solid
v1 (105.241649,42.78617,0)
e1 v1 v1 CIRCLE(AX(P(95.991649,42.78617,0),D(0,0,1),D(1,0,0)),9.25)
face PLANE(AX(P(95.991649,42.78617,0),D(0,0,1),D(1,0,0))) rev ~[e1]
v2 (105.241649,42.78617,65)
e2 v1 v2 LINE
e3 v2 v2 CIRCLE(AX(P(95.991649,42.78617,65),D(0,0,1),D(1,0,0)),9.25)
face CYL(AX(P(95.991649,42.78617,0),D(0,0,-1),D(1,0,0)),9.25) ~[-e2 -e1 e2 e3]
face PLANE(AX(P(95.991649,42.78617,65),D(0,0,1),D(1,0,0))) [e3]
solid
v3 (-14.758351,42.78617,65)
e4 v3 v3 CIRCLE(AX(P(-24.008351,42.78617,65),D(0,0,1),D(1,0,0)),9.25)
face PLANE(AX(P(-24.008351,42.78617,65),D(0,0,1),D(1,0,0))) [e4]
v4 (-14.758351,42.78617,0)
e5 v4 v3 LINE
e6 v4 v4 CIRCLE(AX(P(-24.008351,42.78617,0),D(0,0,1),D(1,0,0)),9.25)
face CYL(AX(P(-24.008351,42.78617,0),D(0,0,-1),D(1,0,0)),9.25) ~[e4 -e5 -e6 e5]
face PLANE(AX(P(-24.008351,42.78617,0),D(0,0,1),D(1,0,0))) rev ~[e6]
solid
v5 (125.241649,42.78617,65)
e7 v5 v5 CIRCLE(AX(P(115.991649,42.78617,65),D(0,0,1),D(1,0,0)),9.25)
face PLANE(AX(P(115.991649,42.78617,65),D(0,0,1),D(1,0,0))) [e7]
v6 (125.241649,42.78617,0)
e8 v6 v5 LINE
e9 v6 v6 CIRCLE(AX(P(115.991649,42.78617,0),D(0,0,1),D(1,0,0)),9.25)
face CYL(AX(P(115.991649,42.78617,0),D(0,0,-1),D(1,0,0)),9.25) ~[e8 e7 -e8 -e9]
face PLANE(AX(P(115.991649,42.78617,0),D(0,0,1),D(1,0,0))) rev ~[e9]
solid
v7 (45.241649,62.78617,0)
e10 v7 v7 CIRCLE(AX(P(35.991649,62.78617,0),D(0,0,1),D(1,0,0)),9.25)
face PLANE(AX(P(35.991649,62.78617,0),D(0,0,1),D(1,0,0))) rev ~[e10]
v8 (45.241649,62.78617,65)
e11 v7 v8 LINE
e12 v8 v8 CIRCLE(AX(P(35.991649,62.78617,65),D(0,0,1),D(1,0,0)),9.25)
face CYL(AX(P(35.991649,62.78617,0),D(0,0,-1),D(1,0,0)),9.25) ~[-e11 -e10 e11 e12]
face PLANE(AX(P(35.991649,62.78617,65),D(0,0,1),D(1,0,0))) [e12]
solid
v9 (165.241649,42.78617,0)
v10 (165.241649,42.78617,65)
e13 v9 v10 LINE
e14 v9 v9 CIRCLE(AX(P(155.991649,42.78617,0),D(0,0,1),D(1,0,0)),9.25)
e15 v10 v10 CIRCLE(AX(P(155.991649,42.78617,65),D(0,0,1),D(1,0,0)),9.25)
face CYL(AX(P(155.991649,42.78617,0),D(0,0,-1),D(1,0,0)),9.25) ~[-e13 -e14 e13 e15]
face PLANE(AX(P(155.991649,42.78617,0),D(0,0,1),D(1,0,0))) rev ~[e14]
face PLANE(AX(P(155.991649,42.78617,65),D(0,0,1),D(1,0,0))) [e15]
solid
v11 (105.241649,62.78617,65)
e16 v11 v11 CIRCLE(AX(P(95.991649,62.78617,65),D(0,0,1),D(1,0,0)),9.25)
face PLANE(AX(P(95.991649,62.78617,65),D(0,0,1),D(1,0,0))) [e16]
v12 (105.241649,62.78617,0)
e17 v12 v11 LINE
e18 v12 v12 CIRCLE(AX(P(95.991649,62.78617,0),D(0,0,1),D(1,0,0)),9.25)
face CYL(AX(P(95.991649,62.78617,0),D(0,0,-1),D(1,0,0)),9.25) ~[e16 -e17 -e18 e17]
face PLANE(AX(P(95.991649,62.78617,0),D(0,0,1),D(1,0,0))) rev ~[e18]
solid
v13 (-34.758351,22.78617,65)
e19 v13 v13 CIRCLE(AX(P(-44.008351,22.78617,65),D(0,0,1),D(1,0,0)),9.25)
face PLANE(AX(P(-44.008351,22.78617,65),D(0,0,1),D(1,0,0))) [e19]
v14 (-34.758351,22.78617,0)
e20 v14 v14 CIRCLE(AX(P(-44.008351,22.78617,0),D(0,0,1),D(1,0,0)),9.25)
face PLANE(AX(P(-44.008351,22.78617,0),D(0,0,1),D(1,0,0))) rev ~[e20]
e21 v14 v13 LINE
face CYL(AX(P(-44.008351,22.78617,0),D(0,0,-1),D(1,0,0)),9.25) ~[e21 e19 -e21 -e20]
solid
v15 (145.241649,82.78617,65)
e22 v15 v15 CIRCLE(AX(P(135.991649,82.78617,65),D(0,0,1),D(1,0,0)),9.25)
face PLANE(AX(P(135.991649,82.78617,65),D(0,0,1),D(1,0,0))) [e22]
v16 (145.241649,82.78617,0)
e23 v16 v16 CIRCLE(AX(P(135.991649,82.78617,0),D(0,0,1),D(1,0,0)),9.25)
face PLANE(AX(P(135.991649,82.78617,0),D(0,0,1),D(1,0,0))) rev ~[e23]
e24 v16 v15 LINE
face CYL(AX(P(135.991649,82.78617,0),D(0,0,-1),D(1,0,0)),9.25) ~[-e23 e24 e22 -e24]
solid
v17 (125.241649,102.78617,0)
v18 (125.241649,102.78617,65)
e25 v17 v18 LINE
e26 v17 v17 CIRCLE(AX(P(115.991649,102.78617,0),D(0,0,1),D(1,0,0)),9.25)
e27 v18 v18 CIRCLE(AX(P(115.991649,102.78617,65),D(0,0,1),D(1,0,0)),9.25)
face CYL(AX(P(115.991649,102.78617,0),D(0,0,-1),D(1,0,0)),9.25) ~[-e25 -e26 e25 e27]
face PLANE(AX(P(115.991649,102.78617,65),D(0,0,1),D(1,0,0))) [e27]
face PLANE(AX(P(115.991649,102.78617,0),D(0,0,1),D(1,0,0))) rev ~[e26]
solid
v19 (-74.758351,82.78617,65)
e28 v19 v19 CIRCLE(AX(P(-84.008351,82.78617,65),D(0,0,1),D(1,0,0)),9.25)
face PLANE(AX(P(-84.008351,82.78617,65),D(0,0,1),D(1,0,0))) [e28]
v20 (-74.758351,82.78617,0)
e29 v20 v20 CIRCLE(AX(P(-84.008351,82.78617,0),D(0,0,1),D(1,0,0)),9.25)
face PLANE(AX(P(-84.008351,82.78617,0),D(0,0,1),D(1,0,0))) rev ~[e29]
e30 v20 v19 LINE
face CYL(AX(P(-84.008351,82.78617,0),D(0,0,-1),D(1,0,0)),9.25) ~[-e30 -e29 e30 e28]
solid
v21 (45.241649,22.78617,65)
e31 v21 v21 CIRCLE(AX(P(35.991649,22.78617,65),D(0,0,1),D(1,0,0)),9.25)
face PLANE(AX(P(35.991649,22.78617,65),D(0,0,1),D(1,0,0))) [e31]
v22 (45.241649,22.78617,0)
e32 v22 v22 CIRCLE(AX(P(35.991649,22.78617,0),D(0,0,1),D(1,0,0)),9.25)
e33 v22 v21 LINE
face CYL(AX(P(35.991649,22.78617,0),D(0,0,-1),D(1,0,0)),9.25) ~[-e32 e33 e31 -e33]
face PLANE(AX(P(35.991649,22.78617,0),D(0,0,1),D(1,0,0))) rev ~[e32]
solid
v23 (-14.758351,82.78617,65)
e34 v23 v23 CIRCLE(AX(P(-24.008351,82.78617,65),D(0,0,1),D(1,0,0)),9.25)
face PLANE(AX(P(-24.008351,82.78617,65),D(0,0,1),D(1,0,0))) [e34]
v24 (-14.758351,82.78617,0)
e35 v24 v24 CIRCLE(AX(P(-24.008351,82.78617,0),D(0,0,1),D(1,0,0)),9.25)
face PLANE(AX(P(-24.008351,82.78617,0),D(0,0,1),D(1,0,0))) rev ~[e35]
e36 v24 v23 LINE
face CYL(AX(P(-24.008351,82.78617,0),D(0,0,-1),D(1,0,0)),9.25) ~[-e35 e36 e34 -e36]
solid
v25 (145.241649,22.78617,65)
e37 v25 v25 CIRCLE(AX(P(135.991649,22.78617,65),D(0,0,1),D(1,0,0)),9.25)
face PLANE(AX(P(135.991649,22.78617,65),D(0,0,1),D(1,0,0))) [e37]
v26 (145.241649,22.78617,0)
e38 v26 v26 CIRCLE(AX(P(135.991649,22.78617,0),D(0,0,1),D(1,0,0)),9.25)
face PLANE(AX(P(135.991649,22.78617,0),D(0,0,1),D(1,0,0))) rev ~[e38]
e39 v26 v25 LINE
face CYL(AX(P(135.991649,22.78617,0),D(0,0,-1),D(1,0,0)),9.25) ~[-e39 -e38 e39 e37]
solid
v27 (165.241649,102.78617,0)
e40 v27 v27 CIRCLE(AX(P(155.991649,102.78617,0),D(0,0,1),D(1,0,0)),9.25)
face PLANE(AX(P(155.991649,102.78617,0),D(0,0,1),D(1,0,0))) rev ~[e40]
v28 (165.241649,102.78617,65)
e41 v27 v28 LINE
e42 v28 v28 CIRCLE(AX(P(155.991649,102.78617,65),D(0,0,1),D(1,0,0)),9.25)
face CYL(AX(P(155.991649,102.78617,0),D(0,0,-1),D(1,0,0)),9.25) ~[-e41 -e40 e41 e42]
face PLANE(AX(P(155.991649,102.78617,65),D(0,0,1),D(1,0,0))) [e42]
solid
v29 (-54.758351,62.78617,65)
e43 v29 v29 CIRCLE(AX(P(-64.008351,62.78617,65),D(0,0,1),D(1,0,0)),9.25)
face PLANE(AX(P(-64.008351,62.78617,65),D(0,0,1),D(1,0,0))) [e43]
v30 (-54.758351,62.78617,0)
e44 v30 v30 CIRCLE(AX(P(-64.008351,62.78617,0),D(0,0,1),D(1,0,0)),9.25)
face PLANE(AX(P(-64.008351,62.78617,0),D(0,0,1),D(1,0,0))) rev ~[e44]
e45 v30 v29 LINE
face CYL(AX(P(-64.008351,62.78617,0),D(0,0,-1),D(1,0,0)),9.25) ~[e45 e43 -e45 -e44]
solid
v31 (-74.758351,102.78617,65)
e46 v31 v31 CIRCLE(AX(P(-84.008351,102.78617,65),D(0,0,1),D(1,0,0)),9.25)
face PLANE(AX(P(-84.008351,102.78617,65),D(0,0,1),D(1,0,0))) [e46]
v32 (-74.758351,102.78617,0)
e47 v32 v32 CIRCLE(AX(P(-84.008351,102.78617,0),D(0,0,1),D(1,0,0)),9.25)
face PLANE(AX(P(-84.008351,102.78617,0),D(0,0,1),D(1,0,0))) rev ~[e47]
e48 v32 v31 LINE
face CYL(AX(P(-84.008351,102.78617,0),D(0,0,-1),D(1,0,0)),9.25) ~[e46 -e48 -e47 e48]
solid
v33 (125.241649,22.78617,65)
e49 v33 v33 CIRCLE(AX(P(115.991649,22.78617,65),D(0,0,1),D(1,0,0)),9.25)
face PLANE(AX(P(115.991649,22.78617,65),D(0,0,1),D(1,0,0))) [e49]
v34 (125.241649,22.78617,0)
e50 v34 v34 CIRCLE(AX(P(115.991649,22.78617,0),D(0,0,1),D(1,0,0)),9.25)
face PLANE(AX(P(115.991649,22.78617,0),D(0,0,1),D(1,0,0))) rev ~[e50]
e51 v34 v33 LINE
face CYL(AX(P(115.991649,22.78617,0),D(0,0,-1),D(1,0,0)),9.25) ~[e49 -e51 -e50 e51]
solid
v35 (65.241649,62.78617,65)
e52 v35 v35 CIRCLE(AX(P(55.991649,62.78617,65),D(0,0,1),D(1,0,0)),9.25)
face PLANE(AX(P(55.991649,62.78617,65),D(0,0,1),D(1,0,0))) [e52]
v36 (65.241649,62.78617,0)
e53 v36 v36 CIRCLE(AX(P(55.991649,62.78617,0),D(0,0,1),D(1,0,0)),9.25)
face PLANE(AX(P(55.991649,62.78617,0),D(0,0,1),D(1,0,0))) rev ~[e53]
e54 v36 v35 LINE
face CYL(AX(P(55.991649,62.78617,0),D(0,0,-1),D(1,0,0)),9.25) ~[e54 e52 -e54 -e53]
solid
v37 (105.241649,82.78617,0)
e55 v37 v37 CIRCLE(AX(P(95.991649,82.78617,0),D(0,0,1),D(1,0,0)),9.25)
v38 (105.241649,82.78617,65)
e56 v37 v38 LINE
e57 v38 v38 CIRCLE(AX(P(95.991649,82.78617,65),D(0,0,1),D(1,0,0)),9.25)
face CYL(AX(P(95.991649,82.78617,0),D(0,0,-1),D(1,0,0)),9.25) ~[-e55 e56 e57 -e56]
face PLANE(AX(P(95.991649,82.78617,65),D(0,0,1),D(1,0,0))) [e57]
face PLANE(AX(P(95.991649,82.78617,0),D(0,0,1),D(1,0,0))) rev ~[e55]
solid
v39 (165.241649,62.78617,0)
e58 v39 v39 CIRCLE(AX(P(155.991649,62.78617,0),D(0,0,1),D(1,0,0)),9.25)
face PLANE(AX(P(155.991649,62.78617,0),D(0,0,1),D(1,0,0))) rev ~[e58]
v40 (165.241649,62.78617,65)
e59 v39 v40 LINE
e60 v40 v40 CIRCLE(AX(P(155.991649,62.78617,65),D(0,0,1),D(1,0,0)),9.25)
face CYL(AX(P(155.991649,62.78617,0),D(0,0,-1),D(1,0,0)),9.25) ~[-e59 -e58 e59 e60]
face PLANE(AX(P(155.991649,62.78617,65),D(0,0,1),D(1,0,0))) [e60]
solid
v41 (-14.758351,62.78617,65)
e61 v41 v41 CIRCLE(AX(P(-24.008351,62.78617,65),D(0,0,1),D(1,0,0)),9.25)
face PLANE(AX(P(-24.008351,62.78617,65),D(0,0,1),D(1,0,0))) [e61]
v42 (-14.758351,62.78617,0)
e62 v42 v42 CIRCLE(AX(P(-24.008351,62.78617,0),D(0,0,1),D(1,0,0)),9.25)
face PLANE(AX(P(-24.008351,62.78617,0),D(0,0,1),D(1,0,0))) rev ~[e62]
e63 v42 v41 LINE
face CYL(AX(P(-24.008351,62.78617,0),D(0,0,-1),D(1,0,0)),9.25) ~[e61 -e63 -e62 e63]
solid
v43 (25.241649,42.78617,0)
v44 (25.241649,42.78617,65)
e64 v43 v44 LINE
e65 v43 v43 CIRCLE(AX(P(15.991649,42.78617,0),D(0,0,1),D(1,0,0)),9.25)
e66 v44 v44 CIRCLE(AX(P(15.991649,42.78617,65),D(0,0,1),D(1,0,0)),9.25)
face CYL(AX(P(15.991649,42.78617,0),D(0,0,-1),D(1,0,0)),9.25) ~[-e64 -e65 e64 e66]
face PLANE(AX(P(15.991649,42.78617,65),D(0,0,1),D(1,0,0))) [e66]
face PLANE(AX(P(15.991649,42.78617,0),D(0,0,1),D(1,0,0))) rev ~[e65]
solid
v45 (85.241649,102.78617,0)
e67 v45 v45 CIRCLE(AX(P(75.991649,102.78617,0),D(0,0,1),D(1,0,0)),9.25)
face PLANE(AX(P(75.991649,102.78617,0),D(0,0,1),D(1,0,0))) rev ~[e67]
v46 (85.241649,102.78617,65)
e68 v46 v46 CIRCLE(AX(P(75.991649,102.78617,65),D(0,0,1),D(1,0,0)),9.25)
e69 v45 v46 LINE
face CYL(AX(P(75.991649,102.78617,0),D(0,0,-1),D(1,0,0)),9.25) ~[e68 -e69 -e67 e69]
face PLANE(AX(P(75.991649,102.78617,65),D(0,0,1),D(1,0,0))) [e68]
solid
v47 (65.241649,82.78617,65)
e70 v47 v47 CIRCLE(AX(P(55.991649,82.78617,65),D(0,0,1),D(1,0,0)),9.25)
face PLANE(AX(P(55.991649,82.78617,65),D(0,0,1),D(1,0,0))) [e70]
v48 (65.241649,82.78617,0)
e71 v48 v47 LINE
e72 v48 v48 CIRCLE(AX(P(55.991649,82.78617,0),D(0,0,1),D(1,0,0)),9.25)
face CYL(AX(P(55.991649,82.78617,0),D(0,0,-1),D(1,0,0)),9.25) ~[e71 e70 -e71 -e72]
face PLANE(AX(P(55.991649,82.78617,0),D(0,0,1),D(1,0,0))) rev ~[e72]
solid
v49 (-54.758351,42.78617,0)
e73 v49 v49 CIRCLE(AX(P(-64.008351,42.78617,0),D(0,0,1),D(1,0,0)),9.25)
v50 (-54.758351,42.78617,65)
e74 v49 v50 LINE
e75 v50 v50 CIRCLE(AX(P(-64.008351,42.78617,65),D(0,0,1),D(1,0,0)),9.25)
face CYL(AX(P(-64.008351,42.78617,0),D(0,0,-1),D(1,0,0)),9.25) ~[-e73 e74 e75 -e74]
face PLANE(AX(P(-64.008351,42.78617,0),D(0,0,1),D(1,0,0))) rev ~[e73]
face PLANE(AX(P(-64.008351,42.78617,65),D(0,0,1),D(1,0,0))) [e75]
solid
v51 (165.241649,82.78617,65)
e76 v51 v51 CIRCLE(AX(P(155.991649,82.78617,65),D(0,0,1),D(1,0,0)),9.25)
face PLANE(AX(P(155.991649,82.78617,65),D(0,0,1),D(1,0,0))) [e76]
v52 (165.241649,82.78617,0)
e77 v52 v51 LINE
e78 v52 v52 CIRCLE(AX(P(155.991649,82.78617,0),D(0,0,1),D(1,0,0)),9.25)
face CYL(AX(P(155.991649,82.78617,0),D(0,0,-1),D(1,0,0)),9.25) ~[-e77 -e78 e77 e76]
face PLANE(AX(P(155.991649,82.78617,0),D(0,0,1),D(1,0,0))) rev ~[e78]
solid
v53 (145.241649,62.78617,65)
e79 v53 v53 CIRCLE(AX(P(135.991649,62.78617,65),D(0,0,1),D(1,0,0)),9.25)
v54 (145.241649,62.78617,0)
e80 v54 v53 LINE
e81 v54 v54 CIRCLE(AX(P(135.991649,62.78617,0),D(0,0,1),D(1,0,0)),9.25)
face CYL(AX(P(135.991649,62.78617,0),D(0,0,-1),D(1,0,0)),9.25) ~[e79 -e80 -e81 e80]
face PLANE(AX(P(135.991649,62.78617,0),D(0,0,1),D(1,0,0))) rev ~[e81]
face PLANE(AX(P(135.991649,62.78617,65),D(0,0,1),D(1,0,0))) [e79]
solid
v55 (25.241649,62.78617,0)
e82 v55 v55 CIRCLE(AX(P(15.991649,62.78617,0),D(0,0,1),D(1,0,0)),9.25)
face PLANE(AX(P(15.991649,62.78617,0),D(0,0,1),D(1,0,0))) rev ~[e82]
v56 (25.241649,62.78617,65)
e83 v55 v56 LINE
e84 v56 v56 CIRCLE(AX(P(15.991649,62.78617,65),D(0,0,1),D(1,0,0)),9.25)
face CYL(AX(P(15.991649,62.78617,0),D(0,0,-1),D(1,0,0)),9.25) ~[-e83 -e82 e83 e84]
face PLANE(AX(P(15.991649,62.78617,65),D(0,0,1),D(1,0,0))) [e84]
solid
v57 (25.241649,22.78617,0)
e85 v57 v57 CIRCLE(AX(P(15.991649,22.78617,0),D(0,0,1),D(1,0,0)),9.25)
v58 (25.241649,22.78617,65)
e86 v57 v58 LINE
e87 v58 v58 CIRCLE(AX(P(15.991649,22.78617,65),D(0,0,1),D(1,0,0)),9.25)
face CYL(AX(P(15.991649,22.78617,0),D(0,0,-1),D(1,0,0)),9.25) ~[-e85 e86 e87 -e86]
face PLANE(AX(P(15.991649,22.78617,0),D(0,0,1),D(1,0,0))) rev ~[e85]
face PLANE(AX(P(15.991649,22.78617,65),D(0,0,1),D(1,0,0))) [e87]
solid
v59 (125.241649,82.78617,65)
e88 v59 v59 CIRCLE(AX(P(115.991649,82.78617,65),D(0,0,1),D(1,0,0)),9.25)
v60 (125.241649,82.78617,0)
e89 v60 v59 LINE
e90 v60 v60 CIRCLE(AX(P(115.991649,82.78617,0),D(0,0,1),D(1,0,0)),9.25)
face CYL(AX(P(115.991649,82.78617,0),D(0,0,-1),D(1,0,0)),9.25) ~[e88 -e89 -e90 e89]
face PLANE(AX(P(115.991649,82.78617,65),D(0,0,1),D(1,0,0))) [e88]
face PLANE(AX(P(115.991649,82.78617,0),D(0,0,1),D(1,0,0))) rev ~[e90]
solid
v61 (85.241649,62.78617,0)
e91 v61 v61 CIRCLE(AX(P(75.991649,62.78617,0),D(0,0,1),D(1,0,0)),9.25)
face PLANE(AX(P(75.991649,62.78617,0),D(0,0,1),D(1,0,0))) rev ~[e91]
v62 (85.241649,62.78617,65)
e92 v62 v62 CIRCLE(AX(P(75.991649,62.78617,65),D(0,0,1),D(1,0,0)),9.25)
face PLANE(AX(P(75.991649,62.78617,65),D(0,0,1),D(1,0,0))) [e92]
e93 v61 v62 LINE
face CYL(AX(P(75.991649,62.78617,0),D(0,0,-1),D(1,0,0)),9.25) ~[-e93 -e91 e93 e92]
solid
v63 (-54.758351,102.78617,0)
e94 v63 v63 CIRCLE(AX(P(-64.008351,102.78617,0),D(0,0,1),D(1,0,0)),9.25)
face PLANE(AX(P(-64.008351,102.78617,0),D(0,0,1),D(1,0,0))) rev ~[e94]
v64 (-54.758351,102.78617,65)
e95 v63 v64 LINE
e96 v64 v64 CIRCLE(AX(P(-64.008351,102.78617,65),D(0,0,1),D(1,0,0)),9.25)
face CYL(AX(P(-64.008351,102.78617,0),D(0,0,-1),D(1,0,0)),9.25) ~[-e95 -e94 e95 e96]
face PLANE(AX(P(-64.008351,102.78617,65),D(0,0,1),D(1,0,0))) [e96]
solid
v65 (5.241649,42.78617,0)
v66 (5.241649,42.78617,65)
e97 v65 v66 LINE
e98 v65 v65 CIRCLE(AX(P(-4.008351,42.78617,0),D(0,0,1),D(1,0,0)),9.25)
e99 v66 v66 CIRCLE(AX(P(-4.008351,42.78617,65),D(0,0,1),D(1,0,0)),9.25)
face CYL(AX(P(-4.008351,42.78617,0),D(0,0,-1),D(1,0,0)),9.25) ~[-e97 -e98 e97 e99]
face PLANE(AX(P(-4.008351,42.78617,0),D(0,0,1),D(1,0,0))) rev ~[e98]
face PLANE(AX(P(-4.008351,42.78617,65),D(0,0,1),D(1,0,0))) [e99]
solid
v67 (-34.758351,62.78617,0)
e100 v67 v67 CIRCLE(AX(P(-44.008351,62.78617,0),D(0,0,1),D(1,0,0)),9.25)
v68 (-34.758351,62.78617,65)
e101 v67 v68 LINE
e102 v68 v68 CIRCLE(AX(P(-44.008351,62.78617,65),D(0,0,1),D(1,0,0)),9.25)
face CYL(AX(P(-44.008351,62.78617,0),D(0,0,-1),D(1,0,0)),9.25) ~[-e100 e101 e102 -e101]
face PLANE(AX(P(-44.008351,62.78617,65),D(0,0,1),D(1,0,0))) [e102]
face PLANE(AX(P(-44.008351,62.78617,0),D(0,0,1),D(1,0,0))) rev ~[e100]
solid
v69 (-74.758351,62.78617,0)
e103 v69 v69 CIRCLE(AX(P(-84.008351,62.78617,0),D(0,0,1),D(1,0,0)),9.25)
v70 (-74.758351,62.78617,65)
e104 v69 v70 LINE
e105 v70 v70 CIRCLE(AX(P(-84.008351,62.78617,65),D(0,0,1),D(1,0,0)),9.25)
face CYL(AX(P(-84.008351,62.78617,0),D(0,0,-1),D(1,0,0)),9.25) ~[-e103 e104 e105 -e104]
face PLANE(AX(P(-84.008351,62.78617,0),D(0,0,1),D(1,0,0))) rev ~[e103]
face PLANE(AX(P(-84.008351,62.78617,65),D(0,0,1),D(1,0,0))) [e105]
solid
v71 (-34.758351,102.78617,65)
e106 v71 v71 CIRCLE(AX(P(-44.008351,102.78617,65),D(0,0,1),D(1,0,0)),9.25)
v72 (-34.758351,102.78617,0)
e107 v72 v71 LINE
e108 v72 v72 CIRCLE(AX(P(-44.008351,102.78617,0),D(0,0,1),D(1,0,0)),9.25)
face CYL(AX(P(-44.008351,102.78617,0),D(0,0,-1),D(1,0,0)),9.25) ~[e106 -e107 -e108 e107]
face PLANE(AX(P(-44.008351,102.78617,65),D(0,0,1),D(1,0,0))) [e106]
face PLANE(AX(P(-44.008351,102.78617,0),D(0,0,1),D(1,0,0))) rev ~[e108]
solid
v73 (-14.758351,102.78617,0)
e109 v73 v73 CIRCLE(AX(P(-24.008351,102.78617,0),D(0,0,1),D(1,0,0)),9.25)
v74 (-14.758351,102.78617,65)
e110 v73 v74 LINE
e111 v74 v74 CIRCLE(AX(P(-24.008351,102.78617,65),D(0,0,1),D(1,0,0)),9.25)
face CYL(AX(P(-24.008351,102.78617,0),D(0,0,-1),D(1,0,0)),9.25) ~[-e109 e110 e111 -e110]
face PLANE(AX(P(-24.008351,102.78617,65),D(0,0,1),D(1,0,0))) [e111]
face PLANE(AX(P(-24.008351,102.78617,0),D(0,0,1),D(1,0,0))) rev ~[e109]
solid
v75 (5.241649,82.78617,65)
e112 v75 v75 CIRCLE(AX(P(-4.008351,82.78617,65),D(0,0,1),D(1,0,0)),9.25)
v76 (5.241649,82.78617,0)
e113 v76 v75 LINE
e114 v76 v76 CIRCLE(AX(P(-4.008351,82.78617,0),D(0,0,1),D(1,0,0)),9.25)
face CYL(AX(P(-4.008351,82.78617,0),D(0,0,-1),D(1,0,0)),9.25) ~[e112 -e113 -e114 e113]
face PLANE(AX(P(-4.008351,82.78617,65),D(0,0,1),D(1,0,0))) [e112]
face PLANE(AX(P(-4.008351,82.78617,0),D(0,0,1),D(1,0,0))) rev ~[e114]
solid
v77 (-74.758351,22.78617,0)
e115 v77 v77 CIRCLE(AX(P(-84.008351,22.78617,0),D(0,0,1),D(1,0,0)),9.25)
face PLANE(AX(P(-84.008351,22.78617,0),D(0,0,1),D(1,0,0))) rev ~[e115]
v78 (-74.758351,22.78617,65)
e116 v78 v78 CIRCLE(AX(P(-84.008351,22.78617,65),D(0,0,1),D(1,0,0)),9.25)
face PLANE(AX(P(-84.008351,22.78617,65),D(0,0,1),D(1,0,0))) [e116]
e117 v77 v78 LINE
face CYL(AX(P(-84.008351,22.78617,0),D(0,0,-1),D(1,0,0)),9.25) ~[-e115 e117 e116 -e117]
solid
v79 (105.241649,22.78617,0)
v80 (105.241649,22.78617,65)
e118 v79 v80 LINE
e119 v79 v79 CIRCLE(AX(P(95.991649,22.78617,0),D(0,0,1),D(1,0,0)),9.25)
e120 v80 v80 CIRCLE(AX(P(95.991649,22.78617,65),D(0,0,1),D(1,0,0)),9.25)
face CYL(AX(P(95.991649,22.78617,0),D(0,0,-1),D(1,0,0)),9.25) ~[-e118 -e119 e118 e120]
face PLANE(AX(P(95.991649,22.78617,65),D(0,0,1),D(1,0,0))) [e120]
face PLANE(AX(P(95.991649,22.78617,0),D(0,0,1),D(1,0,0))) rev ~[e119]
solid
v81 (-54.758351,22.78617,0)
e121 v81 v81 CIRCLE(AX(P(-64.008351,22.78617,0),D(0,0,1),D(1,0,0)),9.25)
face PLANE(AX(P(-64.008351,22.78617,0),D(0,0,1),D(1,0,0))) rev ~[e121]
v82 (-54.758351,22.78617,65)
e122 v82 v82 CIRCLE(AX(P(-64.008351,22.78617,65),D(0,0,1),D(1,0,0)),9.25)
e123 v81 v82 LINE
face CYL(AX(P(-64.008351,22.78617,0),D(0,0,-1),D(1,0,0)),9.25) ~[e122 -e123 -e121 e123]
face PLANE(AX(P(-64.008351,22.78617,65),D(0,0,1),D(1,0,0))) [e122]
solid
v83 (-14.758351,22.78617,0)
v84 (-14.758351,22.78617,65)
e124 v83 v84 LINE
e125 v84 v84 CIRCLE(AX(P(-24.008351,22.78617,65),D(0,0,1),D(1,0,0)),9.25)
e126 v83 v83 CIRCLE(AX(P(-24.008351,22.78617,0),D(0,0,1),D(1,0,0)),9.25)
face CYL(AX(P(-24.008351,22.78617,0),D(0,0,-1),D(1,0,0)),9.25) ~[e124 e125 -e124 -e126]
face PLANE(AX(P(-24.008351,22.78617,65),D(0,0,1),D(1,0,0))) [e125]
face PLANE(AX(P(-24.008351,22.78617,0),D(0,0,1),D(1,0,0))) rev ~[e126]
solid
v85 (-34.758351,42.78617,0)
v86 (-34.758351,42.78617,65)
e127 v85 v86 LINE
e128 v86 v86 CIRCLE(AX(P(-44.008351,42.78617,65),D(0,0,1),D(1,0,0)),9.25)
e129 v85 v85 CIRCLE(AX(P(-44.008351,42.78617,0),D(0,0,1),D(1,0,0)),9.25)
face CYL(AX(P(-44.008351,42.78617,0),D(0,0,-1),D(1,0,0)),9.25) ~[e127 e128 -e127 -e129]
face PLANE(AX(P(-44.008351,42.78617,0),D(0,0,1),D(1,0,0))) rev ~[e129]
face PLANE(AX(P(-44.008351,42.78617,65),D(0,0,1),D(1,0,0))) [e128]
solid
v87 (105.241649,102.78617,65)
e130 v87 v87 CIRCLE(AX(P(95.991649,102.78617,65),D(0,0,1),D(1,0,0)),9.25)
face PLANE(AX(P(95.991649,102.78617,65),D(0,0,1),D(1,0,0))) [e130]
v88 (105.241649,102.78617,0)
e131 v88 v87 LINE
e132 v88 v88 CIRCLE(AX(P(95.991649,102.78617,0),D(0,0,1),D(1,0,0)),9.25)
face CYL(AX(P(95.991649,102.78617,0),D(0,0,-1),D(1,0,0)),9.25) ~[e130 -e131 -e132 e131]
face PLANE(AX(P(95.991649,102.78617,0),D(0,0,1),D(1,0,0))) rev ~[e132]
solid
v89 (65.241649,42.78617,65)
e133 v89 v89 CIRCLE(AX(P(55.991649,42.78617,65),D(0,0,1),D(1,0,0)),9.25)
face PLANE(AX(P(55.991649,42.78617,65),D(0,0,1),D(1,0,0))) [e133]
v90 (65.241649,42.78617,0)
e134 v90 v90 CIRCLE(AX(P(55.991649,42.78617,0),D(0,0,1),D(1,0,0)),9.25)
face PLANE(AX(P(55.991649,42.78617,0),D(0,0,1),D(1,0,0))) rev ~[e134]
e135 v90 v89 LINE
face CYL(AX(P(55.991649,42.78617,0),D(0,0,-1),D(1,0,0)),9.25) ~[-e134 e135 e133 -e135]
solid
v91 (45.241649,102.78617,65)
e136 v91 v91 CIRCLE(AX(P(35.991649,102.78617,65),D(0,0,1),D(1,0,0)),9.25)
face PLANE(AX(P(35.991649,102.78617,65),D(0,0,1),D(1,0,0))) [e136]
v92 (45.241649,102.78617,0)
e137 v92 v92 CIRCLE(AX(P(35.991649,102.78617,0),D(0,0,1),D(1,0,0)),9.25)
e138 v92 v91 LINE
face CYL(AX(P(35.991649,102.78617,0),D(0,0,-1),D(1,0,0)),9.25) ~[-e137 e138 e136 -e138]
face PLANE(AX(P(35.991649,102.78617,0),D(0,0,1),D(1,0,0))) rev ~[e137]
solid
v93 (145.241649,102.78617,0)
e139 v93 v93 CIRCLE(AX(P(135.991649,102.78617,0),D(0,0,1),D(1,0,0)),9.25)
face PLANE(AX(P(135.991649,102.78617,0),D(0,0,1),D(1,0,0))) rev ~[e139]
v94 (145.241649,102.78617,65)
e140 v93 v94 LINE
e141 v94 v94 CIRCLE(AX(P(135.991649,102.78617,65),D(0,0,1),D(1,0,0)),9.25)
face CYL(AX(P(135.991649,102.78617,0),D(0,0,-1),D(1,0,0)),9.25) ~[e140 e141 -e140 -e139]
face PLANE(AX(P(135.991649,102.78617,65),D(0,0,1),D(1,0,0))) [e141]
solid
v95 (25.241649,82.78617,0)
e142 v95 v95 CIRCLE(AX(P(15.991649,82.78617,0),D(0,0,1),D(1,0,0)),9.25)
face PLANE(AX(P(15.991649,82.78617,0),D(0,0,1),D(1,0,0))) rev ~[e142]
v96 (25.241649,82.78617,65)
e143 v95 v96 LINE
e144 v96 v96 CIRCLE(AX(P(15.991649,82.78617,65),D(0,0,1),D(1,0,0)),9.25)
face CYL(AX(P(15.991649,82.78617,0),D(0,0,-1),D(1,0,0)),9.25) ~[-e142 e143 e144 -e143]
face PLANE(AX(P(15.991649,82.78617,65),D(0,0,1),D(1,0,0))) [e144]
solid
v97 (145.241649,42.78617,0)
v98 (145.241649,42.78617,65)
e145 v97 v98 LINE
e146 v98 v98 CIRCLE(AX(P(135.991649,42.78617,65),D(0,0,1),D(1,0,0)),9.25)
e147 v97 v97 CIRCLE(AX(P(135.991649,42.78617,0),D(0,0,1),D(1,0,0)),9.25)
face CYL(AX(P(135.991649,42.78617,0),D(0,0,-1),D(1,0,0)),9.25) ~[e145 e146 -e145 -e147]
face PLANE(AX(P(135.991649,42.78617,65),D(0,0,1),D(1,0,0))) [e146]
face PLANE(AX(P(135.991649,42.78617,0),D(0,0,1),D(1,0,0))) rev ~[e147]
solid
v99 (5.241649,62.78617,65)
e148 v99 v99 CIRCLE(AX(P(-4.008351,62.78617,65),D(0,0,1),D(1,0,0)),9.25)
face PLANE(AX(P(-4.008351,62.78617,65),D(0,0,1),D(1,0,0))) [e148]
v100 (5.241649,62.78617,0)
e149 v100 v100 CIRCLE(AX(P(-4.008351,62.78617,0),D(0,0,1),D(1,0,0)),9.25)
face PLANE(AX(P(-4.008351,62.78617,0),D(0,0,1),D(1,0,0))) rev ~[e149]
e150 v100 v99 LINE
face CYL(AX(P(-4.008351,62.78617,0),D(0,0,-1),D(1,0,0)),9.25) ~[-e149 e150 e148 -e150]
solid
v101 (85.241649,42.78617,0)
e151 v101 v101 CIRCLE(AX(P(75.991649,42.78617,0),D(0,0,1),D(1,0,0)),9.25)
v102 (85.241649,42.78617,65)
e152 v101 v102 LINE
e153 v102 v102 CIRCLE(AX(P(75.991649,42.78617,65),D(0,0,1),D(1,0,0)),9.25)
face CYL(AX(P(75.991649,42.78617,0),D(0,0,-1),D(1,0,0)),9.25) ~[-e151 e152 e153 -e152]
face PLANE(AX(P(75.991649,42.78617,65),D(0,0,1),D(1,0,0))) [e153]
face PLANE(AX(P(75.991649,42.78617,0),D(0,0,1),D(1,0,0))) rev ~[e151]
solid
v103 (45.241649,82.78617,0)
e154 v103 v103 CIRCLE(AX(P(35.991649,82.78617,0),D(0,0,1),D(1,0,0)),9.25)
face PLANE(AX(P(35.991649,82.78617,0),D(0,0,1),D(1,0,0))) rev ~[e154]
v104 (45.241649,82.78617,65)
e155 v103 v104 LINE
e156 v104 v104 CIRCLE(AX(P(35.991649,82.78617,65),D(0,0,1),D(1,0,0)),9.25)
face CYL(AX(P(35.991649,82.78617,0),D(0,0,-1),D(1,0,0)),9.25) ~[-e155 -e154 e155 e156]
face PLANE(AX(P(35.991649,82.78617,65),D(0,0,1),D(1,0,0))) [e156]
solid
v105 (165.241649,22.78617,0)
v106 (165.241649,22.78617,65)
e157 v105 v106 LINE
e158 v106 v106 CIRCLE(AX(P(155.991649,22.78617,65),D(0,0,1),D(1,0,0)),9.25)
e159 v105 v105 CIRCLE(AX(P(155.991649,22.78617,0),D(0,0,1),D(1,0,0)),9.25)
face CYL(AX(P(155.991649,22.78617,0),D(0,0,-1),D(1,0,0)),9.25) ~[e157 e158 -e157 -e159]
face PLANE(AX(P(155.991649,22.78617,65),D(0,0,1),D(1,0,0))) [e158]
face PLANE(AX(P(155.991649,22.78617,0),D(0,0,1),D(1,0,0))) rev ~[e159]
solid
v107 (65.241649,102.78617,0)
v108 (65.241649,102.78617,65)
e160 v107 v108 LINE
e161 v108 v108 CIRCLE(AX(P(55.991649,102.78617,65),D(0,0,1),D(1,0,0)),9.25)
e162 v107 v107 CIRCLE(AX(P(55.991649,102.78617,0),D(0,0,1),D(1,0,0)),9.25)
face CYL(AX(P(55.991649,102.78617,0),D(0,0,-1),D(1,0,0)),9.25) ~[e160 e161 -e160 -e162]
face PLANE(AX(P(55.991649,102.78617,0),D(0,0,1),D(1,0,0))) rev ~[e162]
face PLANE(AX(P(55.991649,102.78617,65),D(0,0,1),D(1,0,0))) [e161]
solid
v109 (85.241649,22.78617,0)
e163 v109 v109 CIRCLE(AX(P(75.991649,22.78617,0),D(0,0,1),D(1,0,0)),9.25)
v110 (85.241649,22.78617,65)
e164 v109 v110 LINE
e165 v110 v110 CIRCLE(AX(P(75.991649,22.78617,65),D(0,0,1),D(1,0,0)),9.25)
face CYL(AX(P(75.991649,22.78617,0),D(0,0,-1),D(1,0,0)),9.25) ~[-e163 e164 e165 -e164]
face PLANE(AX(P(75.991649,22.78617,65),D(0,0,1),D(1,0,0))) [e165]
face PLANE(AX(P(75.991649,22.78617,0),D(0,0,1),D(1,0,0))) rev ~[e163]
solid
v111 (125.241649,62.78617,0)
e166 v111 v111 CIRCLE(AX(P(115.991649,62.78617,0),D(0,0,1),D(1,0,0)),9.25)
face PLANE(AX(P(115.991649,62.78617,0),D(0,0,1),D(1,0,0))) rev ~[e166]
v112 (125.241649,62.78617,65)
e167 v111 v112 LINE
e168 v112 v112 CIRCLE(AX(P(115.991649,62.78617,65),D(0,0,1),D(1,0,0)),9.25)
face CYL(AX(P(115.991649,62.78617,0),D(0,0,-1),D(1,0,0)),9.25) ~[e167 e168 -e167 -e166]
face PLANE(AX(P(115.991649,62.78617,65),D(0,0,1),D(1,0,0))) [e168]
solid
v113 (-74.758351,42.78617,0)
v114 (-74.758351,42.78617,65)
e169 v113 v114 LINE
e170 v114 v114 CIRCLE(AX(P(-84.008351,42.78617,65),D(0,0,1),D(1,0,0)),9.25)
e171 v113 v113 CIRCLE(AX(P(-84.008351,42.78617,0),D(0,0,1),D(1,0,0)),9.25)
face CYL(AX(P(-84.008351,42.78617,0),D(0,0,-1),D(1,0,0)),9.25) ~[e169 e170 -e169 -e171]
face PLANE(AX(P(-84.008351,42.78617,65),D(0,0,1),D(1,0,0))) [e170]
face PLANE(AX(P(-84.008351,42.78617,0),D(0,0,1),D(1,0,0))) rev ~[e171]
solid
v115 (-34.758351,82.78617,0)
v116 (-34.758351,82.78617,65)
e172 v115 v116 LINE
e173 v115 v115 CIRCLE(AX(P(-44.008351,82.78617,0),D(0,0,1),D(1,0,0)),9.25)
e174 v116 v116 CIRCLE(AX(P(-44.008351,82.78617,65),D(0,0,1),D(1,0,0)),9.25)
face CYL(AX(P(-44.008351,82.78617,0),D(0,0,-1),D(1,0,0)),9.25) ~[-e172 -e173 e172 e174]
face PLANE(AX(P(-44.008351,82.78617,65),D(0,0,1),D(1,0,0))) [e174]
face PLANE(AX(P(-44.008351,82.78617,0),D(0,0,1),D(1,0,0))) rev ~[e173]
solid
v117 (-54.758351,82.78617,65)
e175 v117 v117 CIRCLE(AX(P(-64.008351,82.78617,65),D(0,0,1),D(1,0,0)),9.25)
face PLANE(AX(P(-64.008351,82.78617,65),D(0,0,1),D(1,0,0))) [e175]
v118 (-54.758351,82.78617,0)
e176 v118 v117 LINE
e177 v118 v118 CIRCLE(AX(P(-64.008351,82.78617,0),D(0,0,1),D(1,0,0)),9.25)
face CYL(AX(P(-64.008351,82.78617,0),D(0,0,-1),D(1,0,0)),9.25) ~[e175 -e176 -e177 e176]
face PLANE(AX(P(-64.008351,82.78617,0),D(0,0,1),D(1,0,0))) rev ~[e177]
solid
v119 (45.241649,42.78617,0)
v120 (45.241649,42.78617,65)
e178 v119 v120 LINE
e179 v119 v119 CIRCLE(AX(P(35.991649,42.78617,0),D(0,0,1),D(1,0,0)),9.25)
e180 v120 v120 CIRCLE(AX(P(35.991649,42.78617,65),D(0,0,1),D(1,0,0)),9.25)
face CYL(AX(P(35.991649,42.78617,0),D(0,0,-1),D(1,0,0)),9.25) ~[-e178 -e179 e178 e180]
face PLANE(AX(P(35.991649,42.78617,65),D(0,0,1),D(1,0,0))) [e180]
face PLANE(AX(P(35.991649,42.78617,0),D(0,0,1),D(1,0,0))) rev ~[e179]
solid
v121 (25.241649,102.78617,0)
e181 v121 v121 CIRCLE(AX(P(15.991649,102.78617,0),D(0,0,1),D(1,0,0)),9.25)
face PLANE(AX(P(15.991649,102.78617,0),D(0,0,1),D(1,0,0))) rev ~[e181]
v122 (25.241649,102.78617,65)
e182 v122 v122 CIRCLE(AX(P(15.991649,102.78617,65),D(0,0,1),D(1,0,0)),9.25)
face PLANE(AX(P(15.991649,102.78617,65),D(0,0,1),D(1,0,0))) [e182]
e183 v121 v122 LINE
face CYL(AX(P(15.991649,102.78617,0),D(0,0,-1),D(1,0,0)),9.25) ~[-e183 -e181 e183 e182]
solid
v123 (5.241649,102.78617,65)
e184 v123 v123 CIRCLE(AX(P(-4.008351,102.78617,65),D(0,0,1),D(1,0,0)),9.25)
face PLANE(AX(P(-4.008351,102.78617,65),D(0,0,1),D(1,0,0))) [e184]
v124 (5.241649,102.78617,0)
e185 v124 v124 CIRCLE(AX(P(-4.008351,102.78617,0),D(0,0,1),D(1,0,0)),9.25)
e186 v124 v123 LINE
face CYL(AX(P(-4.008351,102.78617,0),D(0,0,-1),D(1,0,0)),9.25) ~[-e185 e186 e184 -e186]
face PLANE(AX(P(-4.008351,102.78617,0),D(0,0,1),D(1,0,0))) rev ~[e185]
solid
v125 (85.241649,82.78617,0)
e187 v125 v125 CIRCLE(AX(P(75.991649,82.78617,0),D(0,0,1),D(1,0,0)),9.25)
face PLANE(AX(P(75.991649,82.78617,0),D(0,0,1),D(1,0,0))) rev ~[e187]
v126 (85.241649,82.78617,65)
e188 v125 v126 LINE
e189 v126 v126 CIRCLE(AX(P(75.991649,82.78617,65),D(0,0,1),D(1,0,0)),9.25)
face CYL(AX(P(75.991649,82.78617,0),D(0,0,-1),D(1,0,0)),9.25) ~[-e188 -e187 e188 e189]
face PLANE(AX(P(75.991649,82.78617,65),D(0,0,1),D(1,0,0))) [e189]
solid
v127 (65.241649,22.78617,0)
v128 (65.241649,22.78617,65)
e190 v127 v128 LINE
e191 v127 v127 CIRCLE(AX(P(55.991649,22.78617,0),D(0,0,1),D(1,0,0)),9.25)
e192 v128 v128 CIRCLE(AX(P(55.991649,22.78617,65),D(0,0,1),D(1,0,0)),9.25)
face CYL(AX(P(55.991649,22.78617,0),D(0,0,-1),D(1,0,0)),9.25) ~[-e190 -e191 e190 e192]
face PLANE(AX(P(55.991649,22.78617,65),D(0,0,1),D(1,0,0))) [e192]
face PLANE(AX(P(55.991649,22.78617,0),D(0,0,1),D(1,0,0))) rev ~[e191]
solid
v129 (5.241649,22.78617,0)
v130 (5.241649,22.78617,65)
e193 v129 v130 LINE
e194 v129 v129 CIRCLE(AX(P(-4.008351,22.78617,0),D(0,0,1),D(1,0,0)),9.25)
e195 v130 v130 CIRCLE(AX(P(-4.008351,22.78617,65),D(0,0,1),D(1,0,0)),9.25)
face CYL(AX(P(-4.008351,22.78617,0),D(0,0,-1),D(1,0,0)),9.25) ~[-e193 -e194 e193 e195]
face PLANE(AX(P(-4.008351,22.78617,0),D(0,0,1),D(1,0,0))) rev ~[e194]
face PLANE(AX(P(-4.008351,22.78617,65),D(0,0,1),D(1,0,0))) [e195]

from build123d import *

# Parameters (mm, degrees)
F0_R     = 9.25
F1_DEPTH = 65


with BuildPart() as f1:
    # F0 (on Top) → F1 (new body)
    with BuildSketch(Plane.XY):
        with Locations((-84.008351, 22.78617)):
            Circle(F0_R)
        with Locations((-84.008351, 42.78617)):
            Circle(F0_R)
        with Locations((-84.008351, 62.78617)):
            Circle(F0_R)
        with Locations((-84.008351, 82.78617)):
            Circle(F0_R)
        with Locations((-84.008351, 102.78617)):
            Circle(F0_R)
        with Locations((-64.008351, 22.78617)):
            Circle(F0_R)
        with Locations((-64.008351, 42.78617)):
            Circle(F0_R)
        with Locations((-64.008351, 62.78617)):
            Circle(F0_R)
        with Locations((-64.008351, 82.78617)):
            Circle(F0_R)
        with Locations((-64.008351, 102.78617)):
            Circle(F0_R)
        with Locations((-44.008351, 22.78617)):
            Circle(F0_R)
        with Locations((-44.008351, 42.78617)):
            Circle(F0_R)
        with Locations((-44.008351, 62.78617)):
            Circle(F0_R)
        with Locations((-44.008351, 82.78617)):
            Circle(F0_R)
        with Locations((-44.008351, 102.78617)):
            Circle(F0_R)
        with Locations((-24.008351, 22.78617)):
            Circle(F0_R)
        with Locations((-24.008351, 42.78617)):
            Circle(F0_R)
        with Locations((-24.008351, 62.78617)):
            Circle(F0_R)
        with Locations((-24.008351, 82.78617)):
            Circle(F0_R)
        with Locations((-24.008351, 102.78617)):
            Circle(F0_R)
        with Locations((-4.008351, 22.78617)):
            Circle(F0_R)
        with Locations((-4.008351, 42.78617)):
            Circle(F0_R)
        with Locations((-4.008351, 62.78617)):
            Circle(F0_R)
        with Locations((-4.008351, 82.78617)):
            Circle(F0_R)
        with Locations((-4.008351, 102.78617)):
            Circle(F0_R)
        with Locations((15.991649, 22.78617)):
            Circle(F0_R)
        with Locations((15.991649, 42.78617)):
            Circle(F0_R)
        with Locations((15.991649, 62.78617)):
            Circle(F0_R)
        with Locations((15.991649, 82.78617)):
            Circle(F0_R)
        with Locations((15.991649, 102.78617)):
            Circle(F0_R)
        with Locations((35.991649, 22.78617)):
            Circle(F0_R)
        with Locations((35.991649, 42.78617)):
            Circle(F0_R)
        with Locations((35.991649, 62.78617)):
            Circle(F0_R)
        with Locations((35.991649, 82.78617)):
            Circle(F0_R)
        with Locations((35.991649, 102.78617)):
            Circle(F0_R)
        with Locations((55.991649, 22.78617)):
            Circle(F0_R)
        with Locations((55.991649, 42.78617)):
            Circle(F0_R)
        with Locations((55.991649, 62.78617)):
            Circle(F0_R)
        with Locations((55.991649, 82.78617)):
            Circle(F0_R)
        with Locations((55.991649, 102.78617)):
            Circle(F0_R)
        with Locations((75.991649, 22.78617)):
            Circle(F0_R)
        with Locations((75.991649, 42.78617)):
            Circle(F0_R)
        with Locations((75.991649, 62.78617)):
            Circle(F0_R)
        with Locations((75.991649, 82.78617)):
            Circle(F0_R)
        with Locations((75.991649, 102.78617)):
            Circle(F0_R)
        with Locations((95.991649, 22.78617)):
            Circle(F0_R)
        with Locations((95.991649, 42.78617)):
            Circle(F0_R)
        with Locations((95.991649, 62.78617)):
            Circle(F0_R)
        with Locations((95.991649, 82.78617)):
            Circle(F0_R)
        with Locations((95.991649, 102.78617)):
            Circle(F0_R)
        with Locations((115.991649, 22.78617)):
            Circle(F0_R)
        with Locations((115.991649, 42.78617)):
            Circle(F0_R)
        with Locations((115.991649, 62.78617)):
            Circle(F0_R)
        with Locations((115.991649, 82.78617)):
            Circle(F0_R)
        with Locations((115.991649, 102.78617)):
            Circle(F0_R)
        with Locations((135.991649, 22.78617)):
            Circle(F0_R)
        with Locations((135.991649, 42.78617)):
            Circle(F0_R)
        with Locations((135.991649, 62.78617)):
            Circle(F0_R)
        with Locations((135.991649, 82.78617)):
            Circle(F0_R)
        with Locations((135.991649, 102.78617)):
            Circle(F0_R)
        with Locations((155.991649, 22.78617)):
            Circle(F0_R)
        with Locations((155.991649, 42.78617)):
            Circle(F0_R)
        with Locations((155.991649, 62.78617)):
            Circle(F0_R)
        with Locations((155.991649, 82.78617)):
            Circle(F0_R)
        with Locations((155.991649, 102.78617)):
            Circle(F0_R)
    extrude(amount=F1_DEPTH)


solid = f1.part
